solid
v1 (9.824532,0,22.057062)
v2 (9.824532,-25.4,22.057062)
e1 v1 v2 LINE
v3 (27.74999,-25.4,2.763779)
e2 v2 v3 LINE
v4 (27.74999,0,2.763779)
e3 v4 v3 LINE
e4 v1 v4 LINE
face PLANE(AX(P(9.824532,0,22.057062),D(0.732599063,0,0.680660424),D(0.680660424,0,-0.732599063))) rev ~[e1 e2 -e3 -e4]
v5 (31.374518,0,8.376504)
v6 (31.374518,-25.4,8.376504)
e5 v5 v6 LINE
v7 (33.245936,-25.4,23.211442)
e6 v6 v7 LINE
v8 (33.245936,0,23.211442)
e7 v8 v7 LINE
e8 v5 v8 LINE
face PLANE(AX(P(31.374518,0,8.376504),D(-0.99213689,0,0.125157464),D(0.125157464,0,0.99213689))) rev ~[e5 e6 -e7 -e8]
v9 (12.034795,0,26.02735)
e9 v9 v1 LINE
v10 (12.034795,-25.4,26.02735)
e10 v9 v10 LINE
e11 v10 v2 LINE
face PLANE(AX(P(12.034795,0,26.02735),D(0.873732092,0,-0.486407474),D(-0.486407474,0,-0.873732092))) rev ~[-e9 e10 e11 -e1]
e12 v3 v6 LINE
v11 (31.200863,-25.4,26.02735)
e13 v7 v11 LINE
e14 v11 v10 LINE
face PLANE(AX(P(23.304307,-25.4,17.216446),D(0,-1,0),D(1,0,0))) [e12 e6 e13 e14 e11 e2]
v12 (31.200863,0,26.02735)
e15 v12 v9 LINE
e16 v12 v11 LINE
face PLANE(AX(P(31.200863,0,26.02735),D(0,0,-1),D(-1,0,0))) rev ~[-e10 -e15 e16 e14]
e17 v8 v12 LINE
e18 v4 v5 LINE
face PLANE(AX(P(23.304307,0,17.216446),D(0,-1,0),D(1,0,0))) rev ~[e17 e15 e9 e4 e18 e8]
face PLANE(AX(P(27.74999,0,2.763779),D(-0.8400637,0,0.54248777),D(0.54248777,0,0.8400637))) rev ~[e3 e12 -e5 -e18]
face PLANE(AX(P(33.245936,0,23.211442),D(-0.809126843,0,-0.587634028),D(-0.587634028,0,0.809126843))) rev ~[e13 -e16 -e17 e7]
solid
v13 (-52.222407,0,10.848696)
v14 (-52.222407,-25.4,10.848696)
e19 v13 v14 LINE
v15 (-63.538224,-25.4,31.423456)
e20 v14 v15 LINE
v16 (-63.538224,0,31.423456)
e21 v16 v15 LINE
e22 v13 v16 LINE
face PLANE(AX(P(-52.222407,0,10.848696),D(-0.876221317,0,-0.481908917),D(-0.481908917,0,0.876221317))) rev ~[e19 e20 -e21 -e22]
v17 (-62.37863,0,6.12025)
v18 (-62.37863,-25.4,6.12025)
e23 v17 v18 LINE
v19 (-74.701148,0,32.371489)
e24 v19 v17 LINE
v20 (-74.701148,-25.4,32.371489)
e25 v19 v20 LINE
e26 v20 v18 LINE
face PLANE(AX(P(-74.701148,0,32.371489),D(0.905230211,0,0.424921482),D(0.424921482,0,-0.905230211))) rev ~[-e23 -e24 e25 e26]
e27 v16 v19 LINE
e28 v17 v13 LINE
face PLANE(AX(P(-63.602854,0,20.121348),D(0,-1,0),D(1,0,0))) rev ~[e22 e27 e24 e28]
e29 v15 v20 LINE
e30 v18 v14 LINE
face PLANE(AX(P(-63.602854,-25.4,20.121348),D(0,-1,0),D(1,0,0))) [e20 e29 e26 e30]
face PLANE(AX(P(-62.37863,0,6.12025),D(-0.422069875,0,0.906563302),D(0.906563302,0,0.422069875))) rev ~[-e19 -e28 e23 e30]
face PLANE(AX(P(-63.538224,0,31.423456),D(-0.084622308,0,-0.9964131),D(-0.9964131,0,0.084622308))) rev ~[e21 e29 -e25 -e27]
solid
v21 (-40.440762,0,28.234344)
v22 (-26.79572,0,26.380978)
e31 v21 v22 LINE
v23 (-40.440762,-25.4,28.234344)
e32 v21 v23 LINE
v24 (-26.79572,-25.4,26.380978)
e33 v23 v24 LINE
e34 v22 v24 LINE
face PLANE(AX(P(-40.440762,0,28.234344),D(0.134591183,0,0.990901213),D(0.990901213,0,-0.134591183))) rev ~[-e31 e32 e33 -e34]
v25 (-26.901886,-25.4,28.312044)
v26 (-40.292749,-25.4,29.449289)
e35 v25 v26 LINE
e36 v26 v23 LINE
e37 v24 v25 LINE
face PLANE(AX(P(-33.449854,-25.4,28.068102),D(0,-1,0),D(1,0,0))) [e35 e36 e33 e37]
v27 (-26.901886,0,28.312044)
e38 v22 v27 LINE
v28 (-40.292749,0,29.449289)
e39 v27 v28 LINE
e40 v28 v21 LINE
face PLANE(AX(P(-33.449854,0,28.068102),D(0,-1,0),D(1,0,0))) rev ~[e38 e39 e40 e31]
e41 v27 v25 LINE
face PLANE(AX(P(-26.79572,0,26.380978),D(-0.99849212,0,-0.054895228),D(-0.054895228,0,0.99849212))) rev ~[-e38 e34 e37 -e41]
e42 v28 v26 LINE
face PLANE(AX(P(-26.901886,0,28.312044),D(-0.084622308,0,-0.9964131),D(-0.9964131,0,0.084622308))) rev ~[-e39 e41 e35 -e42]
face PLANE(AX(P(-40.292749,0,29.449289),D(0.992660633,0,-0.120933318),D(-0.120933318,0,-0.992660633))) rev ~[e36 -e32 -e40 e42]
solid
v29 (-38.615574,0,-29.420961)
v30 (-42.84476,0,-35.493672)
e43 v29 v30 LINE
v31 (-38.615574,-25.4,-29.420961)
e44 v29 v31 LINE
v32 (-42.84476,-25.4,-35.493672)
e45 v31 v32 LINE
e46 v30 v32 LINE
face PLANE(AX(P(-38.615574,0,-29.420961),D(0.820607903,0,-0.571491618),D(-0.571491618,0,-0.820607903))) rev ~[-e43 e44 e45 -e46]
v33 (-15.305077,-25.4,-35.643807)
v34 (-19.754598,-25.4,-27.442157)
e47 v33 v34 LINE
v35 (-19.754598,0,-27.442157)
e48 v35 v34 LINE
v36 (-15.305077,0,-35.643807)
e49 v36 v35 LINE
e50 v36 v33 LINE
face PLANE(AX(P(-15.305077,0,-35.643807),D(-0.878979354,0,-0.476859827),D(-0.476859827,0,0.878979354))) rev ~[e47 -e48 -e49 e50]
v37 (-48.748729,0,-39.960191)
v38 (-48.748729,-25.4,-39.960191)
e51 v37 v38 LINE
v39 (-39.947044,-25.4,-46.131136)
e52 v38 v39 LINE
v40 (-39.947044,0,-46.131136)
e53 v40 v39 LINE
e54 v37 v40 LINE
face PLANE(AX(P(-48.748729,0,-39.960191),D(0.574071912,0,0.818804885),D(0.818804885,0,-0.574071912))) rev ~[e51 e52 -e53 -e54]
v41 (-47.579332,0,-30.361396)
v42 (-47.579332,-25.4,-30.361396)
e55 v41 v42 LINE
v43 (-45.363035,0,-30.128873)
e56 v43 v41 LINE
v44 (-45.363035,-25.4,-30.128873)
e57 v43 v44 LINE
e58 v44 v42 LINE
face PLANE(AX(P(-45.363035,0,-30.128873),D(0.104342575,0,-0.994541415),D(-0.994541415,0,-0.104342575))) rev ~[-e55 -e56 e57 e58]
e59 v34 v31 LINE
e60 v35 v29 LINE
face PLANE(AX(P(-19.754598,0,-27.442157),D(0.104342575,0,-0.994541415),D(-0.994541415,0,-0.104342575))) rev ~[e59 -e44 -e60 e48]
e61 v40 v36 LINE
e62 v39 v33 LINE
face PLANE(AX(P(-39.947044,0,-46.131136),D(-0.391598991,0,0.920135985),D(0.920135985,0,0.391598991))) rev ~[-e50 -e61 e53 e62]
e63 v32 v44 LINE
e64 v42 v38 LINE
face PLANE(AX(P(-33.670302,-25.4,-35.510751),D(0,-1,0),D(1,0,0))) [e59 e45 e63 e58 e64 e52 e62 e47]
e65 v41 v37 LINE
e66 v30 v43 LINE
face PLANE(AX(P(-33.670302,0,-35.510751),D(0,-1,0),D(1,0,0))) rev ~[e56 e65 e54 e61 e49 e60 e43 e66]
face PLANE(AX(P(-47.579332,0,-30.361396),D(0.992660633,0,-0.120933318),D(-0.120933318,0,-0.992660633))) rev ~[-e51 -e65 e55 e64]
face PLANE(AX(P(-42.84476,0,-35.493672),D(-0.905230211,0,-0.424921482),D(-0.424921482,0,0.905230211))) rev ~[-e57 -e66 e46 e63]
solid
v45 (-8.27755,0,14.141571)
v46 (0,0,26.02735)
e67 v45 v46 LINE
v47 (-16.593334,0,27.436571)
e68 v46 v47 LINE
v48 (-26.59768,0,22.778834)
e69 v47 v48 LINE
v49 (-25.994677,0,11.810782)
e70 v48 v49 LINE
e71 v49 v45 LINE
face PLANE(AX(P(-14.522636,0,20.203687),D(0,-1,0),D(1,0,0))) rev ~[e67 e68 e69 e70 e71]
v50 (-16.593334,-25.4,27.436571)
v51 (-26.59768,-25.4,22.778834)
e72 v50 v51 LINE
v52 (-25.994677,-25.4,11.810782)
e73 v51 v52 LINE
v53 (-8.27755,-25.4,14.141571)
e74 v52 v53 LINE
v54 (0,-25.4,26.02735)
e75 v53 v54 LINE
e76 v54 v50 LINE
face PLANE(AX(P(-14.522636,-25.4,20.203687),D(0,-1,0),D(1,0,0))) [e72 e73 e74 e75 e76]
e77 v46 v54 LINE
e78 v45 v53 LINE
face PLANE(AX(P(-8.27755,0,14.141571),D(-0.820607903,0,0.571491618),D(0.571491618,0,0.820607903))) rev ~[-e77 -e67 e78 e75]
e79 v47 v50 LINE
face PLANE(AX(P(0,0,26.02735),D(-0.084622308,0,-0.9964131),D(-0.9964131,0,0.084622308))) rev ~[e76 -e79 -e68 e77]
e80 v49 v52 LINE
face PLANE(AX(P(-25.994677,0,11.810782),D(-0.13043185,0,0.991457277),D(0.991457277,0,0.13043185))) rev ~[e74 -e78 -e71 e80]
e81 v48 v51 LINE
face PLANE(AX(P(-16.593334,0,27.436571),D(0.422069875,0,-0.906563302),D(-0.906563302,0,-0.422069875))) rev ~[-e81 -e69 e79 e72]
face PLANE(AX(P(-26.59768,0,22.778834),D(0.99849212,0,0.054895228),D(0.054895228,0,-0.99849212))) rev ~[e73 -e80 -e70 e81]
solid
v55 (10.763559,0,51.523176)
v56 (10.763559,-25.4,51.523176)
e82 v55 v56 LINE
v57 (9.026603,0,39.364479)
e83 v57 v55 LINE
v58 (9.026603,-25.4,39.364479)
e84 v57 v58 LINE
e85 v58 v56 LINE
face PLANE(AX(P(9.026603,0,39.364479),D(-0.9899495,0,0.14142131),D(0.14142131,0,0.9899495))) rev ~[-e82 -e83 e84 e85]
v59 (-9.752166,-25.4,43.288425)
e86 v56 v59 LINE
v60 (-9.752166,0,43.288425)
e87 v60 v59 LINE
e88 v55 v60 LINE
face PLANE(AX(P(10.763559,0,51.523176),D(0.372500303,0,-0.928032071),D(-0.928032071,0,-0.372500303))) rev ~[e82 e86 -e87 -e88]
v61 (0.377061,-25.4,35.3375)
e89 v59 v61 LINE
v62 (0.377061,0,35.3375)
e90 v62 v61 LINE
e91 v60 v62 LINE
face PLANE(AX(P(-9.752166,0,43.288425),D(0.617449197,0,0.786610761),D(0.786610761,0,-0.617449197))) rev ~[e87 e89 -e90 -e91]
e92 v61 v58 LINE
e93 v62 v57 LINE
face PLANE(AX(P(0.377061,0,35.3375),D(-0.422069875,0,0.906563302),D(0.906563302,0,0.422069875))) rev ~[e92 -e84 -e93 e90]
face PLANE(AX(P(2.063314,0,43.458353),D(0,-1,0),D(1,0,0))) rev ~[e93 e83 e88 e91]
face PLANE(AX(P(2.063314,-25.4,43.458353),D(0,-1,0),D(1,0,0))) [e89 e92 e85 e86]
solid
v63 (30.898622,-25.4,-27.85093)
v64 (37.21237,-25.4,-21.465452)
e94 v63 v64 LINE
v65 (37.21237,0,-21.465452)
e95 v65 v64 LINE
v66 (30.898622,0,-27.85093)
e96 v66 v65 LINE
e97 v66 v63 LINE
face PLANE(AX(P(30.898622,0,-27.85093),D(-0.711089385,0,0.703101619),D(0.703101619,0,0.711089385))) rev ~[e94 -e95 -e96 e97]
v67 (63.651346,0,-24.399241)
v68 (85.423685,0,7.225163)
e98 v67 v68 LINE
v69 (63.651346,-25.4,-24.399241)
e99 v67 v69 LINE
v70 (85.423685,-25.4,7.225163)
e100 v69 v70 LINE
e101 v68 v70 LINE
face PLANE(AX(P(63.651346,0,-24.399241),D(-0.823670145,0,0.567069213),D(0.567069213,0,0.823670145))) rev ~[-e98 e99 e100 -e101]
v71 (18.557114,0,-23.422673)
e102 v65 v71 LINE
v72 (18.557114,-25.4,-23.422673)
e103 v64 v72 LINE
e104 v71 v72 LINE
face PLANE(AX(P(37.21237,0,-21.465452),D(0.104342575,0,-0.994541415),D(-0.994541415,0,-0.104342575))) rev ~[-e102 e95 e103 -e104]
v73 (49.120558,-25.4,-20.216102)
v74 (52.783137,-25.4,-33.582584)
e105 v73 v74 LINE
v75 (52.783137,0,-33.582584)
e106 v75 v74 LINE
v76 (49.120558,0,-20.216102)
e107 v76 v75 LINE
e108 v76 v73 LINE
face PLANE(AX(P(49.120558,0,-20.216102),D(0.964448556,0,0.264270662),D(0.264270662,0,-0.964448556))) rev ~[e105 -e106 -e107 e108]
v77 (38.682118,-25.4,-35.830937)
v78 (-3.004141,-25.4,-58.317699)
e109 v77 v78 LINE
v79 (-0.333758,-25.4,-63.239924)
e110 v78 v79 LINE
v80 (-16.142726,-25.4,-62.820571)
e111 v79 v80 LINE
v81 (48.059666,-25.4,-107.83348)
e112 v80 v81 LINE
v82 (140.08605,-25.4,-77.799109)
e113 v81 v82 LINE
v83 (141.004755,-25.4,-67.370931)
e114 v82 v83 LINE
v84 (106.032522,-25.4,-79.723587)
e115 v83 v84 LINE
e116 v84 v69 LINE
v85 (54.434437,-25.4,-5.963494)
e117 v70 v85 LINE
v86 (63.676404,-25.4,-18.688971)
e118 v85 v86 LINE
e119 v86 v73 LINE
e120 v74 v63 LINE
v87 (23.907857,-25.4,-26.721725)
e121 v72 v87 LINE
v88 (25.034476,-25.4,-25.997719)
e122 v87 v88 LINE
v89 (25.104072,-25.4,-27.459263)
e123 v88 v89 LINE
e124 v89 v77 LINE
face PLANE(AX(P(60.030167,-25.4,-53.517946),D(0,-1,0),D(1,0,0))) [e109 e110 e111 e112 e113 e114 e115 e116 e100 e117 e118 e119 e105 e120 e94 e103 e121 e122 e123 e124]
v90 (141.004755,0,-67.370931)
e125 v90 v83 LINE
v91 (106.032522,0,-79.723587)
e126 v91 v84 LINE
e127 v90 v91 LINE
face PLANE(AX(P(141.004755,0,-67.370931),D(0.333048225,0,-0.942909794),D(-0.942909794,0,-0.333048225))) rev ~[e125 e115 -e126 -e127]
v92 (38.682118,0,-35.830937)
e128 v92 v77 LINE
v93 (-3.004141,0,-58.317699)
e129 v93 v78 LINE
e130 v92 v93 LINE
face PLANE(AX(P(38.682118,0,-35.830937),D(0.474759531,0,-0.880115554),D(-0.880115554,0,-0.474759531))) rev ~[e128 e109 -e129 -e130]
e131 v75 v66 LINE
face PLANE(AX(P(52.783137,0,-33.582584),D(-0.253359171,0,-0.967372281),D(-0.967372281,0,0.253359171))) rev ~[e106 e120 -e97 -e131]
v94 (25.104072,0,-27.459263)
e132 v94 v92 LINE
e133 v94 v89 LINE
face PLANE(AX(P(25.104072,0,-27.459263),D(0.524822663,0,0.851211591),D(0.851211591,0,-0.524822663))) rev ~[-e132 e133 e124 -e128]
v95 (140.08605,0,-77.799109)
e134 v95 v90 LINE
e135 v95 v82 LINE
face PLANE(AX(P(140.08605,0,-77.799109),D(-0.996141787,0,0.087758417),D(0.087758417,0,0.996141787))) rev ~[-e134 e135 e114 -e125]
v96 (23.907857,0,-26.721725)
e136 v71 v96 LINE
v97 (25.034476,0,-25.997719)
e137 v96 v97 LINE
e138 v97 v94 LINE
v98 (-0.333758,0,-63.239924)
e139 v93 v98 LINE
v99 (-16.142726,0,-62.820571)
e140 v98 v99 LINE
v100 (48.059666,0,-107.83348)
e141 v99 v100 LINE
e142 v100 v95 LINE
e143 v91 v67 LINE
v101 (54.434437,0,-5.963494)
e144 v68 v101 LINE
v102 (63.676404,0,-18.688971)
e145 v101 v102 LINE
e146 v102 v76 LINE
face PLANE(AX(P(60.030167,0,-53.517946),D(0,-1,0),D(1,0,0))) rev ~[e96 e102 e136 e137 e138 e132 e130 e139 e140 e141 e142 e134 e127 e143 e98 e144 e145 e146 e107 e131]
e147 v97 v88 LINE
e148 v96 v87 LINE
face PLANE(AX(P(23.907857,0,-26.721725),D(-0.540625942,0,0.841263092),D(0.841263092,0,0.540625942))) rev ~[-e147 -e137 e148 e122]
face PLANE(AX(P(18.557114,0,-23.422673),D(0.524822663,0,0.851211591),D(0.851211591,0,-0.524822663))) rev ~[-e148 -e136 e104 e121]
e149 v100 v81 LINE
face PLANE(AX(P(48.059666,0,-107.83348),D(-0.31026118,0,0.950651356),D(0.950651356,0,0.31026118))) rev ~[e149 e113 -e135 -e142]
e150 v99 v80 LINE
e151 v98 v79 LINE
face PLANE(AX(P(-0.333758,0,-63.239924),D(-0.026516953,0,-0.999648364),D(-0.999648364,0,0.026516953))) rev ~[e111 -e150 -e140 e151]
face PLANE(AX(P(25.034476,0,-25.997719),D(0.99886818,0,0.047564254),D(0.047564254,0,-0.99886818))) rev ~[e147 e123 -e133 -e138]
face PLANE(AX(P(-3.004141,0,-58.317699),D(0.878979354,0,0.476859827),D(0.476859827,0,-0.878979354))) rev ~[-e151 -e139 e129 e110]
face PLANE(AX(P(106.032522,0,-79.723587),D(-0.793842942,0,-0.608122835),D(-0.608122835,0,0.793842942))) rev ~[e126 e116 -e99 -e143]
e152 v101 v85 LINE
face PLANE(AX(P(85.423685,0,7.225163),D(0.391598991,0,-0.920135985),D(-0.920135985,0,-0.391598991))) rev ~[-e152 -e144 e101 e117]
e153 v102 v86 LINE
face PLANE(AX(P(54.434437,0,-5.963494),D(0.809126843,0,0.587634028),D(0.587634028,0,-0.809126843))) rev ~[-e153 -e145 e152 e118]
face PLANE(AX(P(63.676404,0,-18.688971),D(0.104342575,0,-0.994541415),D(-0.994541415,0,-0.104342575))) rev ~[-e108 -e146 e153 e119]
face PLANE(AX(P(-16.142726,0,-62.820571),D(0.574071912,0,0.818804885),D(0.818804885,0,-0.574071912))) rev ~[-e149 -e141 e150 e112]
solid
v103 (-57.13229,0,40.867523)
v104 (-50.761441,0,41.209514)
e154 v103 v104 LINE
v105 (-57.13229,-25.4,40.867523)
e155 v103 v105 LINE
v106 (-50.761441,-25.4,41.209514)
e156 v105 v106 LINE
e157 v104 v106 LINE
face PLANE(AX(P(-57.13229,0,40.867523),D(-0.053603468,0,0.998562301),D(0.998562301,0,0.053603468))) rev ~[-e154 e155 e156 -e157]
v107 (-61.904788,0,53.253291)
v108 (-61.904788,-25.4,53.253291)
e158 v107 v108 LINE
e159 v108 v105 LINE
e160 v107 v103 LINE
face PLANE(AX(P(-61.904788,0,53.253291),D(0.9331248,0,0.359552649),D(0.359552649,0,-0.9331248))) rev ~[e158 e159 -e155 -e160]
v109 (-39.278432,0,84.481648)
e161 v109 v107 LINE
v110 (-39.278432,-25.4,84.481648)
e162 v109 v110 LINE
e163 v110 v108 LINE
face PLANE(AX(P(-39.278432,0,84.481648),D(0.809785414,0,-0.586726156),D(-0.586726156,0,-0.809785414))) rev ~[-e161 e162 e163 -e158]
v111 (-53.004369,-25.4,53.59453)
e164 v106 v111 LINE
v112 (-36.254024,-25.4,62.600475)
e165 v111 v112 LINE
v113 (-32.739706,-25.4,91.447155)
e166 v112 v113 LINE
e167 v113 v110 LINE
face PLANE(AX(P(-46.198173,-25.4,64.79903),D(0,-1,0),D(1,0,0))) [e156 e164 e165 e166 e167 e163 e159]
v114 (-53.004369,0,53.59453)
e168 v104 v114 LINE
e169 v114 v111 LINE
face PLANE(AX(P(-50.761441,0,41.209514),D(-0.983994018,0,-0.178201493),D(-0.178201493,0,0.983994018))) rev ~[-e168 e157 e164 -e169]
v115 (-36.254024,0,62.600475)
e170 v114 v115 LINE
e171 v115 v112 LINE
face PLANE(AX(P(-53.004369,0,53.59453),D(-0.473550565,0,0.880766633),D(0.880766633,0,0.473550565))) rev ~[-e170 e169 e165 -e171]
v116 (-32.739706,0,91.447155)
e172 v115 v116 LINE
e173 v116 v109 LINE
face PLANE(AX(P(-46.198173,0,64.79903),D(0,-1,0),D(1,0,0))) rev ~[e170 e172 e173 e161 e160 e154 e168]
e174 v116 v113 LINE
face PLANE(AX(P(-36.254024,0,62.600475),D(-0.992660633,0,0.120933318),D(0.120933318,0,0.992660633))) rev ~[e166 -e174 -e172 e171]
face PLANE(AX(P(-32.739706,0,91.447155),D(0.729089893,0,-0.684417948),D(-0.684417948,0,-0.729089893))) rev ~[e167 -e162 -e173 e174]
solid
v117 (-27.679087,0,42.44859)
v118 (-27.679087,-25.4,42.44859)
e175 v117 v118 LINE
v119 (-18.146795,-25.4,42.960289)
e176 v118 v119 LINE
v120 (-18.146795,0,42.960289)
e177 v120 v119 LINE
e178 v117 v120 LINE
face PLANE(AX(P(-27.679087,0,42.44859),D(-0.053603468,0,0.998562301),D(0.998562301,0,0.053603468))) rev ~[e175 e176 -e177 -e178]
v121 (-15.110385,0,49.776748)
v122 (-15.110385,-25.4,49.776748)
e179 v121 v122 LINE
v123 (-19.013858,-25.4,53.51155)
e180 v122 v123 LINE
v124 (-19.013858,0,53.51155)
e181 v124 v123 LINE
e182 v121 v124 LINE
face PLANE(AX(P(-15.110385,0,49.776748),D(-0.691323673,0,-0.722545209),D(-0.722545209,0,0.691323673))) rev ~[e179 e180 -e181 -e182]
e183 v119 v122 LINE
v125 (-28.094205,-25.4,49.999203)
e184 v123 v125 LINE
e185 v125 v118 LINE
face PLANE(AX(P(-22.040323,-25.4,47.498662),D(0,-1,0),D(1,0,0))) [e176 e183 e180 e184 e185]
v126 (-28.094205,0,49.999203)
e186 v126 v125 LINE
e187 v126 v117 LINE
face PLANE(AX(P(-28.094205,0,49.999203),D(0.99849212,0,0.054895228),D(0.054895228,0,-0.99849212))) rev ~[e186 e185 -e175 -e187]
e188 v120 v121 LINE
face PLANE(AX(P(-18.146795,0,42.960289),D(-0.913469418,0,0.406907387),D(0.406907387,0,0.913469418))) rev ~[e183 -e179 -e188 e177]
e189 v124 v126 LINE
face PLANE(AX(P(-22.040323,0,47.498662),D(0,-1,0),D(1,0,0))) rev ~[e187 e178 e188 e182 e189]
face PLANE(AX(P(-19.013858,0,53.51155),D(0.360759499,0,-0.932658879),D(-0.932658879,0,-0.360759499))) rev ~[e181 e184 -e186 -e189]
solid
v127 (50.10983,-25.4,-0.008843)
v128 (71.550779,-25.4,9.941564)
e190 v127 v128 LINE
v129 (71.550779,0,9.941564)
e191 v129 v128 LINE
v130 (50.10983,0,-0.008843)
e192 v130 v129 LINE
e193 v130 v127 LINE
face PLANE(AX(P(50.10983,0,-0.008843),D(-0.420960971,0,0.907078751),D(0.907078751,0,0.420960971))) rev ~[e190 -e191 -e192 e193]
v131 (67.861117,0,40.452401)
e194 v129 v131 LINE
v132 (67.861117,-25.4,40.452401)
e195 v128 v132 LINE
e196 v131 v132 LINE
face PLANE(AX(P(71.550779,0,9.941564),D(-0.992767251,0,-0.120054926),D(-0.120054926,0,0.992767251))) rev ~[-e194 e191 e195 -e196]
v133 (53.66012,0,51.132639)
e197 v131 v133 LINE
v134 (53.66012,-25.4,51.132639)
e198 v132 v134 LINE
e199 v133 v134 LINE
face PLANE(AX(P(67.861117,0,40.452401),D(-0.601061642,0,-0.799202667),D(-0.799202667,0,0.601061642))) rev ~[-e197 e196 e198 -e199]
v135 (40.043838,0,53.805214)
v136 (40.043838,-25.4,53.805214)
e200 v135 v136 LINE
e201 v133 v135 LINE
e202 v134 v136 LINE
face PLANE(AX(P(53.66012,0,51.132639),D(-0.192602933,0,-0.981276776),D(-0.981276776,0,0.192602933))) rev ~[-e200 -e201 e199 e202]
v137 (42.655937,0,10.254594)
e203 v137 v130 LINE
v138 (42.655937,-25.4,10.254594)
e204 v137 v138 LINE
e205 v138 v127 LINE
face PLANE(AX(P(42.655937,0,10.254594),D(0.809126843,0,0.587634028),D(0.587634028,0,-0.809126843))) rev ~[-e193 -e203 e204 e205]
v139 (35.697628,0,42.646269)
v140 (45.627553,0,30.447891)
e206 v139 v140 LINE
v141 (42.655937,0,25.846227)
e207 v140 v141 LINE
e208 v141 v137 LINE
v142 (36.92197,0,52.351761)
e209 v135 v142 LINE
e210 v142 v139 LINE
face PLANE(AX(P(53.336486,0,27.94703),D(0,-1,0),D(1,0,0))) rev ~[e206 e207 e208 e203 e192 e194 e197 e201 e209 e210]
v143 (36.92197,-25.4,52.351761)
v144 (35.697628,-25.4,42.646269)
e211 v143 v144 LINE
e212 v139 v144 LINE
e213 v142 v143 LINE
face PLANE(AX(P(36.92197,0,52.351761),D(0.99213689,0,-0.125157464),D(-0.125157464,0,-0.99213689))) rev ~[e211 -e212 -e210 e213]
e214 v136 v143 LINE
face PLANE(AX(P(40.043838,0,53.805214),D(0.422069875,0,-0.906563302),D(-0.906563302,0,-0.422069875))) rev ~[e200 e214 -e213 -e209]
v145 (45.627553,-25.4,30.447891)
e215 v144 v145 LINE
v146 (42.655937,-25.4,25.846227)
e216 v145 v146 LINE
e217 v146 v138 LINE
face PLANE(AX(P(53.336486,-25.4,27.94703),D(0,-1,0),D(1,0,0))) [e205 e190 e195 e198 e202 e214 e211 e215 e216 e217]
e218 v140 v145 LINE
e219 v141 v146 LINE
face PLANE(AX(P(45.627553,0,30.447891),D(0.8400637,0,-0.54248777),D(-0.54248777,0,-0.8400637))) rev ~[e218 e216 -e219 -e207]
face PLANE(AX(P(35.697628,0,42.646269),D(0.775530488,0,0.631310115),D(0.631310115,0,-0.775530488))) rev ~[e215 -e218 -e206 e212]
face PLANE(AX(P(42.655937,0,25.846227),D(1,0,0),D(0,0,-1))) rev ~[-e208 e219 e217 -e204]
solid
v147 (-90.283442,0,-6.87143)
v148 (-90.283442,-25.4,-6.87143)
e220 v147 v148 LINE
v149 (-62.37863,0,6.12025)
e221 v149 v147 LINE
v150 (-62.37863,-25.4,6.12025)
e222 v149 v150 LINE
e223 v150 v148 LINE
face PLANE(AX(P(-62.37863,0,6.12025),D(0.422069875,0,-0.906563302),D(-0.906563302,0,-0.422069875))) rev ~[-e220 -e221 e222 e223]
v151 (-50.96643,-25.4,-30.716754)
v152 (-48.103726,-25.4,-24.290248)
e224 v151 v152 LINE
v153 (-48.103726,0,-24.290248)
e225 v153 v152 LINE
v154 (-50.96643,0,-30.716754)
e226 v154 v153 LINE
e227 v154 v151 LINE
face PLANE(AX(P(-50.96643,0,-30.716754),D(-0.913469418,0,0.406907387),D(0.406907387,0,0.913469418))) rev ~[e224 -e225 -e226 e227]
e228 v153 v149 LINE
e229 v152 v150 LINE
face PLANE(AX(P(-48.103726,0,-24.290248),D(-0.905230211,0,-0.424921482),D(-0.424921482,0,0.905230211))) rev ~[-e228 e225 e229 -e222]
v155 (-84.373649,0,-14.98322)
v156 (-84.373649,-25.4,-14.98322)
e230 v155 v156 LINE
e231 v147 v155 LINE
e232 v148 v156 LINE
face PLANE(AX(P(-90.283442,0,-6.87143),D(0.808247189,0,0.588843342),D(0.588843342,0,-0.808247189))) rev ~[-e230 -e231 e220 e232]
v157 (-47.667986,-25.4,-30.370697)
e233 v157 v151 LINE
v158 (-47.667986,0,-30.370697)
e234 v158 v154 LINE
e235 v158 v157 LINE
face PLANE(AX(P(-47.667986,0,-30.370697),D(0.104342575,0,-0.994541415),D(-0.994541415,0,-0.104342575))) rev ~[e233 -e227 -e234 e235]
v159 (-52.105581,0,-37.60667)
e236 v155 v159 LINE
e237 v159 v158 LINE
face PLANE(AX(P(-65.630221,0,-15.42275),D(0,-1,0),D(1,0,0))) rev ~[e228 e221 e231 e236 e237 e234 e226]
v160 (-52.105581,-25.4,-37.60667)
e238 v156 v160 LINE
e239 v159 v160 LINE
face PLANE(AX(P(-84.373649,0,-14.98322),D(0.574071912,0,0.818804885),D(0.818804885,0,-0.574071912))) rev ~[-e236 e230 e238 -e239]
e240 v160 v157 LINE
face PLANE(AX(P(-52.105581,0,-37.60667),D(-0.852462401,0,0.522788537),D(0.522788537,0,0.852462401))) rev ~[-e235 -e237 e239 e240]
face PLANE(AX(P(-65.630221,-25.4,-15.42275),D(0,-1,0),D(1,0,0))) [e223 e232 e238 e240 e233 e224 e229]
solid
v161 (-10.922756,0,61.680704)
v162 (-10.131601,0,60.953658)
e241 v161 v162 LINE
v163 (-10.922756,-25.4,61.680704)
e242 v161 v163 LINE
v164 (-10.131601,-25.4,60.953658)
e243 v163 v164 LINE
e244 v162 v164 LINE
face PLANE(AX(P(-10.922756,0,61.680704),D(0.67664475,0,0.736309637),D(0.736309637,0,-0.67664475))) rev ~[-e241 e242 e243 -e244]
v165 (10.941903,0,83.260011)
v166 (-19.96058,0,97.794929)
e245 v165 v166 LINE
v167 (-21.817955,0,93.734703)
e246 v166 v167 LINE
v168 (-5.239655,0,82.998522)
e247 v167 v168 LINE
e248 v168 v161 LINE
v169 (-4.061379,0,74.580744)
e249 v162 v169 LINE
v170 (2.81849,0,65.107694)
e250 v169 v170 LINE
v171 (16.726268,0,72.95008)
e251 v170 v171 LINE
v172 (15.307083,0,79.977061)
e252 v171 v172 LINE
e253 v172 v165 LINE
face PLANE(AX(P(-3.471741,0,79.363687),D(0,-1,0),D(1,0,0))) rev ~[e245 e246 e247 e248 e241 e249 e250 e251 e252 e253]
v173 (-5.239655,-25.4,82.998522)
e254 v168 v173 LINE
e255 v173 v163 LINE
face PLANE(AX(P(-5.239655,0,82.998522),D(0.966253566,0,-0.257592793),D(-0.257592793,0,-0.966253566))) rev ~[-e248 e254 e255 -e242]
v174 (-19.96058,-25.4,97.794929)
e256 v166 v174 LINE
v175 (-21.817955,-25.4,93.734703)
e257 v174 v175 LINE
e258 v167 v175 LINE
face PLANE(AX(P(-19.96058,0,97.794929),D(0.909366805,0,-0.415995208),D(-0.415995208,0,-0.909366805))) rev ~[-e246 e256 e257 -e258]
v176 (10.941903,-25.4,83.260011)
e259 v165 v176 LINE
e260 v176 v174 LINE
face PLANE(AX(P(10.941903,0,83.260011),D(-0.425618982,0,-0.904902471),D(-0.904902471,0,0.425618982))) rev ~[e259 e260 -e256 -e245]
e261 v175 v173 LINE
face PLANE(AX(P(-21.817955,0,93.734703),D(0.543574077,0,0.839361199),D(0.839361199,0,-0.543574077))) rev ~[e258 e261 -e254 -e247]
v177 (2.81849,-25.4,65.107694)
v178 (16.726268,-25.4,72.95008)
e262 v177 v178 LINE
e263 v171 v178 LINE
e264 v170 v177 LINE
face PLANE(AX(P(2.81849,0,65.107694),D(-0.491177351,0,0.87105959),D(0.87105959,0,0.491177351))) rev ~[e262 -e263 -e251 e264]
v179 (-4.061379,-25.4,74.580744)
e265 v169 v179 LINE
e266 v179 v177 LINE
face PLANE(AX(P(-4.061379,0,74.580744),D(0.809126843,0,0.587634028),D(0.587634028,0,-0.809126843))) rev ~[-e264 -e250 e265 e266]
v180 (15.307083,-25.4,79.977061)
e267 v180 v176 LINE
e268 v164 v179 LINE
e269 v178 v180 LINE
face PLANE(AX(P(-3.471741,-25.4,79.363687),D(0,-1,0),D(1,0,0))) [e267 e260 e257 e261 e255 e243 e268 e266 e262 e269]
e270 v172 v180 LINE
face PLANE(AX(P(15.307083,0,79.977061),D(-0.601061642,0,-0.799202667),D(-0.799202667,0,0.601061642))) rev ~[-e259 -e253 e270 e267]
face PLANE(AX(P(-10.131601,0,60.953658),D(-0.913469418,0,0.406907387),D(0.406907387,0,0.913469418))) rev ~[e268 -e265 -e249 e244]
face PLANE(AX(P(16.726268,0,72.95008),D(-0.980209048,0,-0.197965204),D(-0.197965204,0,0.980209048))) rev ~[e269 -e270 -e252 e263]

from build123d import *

# Parameters (mm, degrees)
F1_DEPTH = 25.4


with BuildPart() as f1:
    # F0 (on Front) → F1 (new body)
    with BuildSketch(Plane.XZ):
        Polygon((-8.2775503208, 14.1415705085), (0, 26.0273497552), (-16.5933340886, 27.4365707117), (-26.5976804775, 22.7788339356), (-25.9946774803, 11.8107815519), align=None)
    extrude(amount=F1_DEPTH)


with BuildPart() as f1b:
    # F0 (on Front) → F1, piece 2 (new body)
    with BuildSketch(Plane.XZ):
        Polygon((9.8245315285, 22.0570616703), (27.7499896085, 2.7637792612), (31.3745177308, 8.3765039567), (33.2459360691, 23.2114415528), (31.2008630456, 26.0273497552), (12.0347946233, 26.0273497552), align=None)
    extrude(amount=F1_DEPTH)


with BuildPart() as f1c:
    # F0 (on Front) → F1, piece 3 (new body)
    with BuildSketch(Plane.XZ):
        Polygon((-9.7521655262, 43.2884246111), (0.377061074, 35.3375000258), (9.0266028078, 39.3644786073), (10.7635590371, 51.5231762454), align=None)
    extrude(amount=F1_DEPTH)


with BuildPart() as f1d:
    # F0 (on Front) → F1, piece 4 (new body)
    with BuildSketch(Plane.XZ):
        Polygon((-26.7957196178, 26.3809779969), (-26.9018860354, 28.3120444023), (-40.2927486587, 29.4492892823), (-40.4407623715, 28.2343438209), align=None)
    extrude(amount=F1_DEPTH)


with BuildPart() as f1e:
    # F0 (on Front) → F1, piece 5 (new body)
    with BuildSketch(Plane.XZ):
        Polygon((-27.6790868411, 42.4485896423), (-18.1467949534, 42.9602892179), (-15.1103850066, 49.7767484798), (-19.0138577454, 53.5115502348), (-28.0942054441, 49.9992031622), align=None)
    extrude(amount=F1_DEPTH)


with BuildPart() as f1f:
    # F0 (on Front) → F1, piece 6 (new body)
    with BuildSketch(Plane.XZ):
        Polygon((-4.0613790776, 74.5807440262), (2.8184896701, 65.1076941085), (16.7262681572, 72.9500804147), (15.3070834712, 79.9770611173), (10.9419030966, 83.2600112295), (-19.9605801177, 97.7949294743), (-21.8179547803, 93.7347027441), (-5.2396552637, 82.998521626), (-10.9227559582, 61.6807035146), (-10.1316010064, 60.9536576932), align=None)
    extrude(amount=F1_DEPTH)


with BuildPart() as f1g:
    # F0 (on Front) → F1, piece 7 (new body)
    with BuildSketch(Plane.XZ):
        Polygon((-53.0043693492, 53.5945301139), (-36.2540241362, 62.6004746449), (-32.7397064753, 91.447155212), (-39.2784316626, 84.4816475651), (-61.9047880588, 53.2532913941), (-57.1322903783, 40.867522683), (-50.7614407107, 41.2095140015), align=None)
    extrude(amount=F1_DEPTH)


with BuildPart() as f1h:
    # F0 (on Front) → F1, piece 8 (new body)
    with BuildSketch(Plane.XZ):
        Polygon((-62.3786299077, 6.1202499996), (-52.2224069815, 10.848696136), (-63.5382242926, 31.4234562117), (-74.7011477181, 32.3714890509), align=None)
    extrude(amount=F1_DEPTH)


with BuildPart() as f1i:
    # F0 (on Front) → F1, piece 9 (new body)
    with BuildSketch(Plane.XZ):
        Polygon((-39.947044008, -46.1311363055), (-15.3050767152, -35.643806509), (-19.7545978755, -27.4421568495), (-38.6155735952, -29.4209610913), (-42.8447596543, -35.4936722127), (-45.3630345792, -30.12887274), (-47.5793322149, -30.3613961909), (-48.7487289594, -39.9601910635), align=None)
    extrude(amount=F1_DEPTH)


with BuildPart() as f1j:
    # F0 (on Front) → F1, piece 10 (new body)
    with BuildSketch(Plane.XZ):
        Polygon((-50.9664304554, -30.7167544961), (-48.1037262207, -24.2902484787), (-62.3786299077, 6.1202499996), (-90.2834418248, -6.8714301805), (-84.3736491186, -14.9832198626), (-52.1055814784, -37.6066697555), (-47.6679858226, -30.3706973075), align=None)
    extrude(amount=F1_DEPTH)


with BuildPart() as f1k:
    # F0 (on Front) → F1, piece 11 (new body)
    with BuildSketch(Plane.XZ):
        Polygon((85.4236853653, 7.2251631385), (54.4344372496, -5.9634942959), (63.6764039087, -18.688971294), (49.120557909, -20.2161017159), (52.7831368829, -33.582583536), (30.8986216103, -27.8509301128), (37.2123704158, -21.4654523473), (18.5571143493, -23.4226734575), (23.9078568819, -26.7217250352), (25.0344755149, -25.9977193516), (25.1040715001, -27.4592626198), (38.6821180582, -35.830937326), (-3.0041410369, -58.3176991105), (-0.3337582805, -63.2399240051), (-16.1427256153, -62.8205709006), (48.0596655795, -107.8334795256), (140.0860498561, -77.7991094976), (141.0047548768, -67.370930717), (106.0325218358, -79.7235865211), (63.6513456702, -24.3992414325), align=None)
    extrude(amount=F1_DEPTH)


with BuildPart() as f1l:
    # F0 (on Front) → F1, piece 12 (new body)
    with BuildSketch(Plane.XZ):
        Polygon((42.6559373736, 25.8462270468), (42.6559373736, 10.2545937769), (50.109830102, -0.0088429957), (71.5507794352, 9.9415641206), (67.8611167444, 40.4524012804), (53.6601199049, 51.132639018), (40.0438383938, 53.8052139902), (36.9219696666, 52.3517614391), (35.6976277022, 42.6462689432), (45.6275527562, 30.4478906235), align=None)
    extrude(amount=F1_DEPTH)


solid = Compound([f1.part, f1b.part, f1c.part, f1d.part, f1e.part, f1f.part, f1g.part, f1h.part, f1i.part, f1j.part, f1k.part, f1l.part])
